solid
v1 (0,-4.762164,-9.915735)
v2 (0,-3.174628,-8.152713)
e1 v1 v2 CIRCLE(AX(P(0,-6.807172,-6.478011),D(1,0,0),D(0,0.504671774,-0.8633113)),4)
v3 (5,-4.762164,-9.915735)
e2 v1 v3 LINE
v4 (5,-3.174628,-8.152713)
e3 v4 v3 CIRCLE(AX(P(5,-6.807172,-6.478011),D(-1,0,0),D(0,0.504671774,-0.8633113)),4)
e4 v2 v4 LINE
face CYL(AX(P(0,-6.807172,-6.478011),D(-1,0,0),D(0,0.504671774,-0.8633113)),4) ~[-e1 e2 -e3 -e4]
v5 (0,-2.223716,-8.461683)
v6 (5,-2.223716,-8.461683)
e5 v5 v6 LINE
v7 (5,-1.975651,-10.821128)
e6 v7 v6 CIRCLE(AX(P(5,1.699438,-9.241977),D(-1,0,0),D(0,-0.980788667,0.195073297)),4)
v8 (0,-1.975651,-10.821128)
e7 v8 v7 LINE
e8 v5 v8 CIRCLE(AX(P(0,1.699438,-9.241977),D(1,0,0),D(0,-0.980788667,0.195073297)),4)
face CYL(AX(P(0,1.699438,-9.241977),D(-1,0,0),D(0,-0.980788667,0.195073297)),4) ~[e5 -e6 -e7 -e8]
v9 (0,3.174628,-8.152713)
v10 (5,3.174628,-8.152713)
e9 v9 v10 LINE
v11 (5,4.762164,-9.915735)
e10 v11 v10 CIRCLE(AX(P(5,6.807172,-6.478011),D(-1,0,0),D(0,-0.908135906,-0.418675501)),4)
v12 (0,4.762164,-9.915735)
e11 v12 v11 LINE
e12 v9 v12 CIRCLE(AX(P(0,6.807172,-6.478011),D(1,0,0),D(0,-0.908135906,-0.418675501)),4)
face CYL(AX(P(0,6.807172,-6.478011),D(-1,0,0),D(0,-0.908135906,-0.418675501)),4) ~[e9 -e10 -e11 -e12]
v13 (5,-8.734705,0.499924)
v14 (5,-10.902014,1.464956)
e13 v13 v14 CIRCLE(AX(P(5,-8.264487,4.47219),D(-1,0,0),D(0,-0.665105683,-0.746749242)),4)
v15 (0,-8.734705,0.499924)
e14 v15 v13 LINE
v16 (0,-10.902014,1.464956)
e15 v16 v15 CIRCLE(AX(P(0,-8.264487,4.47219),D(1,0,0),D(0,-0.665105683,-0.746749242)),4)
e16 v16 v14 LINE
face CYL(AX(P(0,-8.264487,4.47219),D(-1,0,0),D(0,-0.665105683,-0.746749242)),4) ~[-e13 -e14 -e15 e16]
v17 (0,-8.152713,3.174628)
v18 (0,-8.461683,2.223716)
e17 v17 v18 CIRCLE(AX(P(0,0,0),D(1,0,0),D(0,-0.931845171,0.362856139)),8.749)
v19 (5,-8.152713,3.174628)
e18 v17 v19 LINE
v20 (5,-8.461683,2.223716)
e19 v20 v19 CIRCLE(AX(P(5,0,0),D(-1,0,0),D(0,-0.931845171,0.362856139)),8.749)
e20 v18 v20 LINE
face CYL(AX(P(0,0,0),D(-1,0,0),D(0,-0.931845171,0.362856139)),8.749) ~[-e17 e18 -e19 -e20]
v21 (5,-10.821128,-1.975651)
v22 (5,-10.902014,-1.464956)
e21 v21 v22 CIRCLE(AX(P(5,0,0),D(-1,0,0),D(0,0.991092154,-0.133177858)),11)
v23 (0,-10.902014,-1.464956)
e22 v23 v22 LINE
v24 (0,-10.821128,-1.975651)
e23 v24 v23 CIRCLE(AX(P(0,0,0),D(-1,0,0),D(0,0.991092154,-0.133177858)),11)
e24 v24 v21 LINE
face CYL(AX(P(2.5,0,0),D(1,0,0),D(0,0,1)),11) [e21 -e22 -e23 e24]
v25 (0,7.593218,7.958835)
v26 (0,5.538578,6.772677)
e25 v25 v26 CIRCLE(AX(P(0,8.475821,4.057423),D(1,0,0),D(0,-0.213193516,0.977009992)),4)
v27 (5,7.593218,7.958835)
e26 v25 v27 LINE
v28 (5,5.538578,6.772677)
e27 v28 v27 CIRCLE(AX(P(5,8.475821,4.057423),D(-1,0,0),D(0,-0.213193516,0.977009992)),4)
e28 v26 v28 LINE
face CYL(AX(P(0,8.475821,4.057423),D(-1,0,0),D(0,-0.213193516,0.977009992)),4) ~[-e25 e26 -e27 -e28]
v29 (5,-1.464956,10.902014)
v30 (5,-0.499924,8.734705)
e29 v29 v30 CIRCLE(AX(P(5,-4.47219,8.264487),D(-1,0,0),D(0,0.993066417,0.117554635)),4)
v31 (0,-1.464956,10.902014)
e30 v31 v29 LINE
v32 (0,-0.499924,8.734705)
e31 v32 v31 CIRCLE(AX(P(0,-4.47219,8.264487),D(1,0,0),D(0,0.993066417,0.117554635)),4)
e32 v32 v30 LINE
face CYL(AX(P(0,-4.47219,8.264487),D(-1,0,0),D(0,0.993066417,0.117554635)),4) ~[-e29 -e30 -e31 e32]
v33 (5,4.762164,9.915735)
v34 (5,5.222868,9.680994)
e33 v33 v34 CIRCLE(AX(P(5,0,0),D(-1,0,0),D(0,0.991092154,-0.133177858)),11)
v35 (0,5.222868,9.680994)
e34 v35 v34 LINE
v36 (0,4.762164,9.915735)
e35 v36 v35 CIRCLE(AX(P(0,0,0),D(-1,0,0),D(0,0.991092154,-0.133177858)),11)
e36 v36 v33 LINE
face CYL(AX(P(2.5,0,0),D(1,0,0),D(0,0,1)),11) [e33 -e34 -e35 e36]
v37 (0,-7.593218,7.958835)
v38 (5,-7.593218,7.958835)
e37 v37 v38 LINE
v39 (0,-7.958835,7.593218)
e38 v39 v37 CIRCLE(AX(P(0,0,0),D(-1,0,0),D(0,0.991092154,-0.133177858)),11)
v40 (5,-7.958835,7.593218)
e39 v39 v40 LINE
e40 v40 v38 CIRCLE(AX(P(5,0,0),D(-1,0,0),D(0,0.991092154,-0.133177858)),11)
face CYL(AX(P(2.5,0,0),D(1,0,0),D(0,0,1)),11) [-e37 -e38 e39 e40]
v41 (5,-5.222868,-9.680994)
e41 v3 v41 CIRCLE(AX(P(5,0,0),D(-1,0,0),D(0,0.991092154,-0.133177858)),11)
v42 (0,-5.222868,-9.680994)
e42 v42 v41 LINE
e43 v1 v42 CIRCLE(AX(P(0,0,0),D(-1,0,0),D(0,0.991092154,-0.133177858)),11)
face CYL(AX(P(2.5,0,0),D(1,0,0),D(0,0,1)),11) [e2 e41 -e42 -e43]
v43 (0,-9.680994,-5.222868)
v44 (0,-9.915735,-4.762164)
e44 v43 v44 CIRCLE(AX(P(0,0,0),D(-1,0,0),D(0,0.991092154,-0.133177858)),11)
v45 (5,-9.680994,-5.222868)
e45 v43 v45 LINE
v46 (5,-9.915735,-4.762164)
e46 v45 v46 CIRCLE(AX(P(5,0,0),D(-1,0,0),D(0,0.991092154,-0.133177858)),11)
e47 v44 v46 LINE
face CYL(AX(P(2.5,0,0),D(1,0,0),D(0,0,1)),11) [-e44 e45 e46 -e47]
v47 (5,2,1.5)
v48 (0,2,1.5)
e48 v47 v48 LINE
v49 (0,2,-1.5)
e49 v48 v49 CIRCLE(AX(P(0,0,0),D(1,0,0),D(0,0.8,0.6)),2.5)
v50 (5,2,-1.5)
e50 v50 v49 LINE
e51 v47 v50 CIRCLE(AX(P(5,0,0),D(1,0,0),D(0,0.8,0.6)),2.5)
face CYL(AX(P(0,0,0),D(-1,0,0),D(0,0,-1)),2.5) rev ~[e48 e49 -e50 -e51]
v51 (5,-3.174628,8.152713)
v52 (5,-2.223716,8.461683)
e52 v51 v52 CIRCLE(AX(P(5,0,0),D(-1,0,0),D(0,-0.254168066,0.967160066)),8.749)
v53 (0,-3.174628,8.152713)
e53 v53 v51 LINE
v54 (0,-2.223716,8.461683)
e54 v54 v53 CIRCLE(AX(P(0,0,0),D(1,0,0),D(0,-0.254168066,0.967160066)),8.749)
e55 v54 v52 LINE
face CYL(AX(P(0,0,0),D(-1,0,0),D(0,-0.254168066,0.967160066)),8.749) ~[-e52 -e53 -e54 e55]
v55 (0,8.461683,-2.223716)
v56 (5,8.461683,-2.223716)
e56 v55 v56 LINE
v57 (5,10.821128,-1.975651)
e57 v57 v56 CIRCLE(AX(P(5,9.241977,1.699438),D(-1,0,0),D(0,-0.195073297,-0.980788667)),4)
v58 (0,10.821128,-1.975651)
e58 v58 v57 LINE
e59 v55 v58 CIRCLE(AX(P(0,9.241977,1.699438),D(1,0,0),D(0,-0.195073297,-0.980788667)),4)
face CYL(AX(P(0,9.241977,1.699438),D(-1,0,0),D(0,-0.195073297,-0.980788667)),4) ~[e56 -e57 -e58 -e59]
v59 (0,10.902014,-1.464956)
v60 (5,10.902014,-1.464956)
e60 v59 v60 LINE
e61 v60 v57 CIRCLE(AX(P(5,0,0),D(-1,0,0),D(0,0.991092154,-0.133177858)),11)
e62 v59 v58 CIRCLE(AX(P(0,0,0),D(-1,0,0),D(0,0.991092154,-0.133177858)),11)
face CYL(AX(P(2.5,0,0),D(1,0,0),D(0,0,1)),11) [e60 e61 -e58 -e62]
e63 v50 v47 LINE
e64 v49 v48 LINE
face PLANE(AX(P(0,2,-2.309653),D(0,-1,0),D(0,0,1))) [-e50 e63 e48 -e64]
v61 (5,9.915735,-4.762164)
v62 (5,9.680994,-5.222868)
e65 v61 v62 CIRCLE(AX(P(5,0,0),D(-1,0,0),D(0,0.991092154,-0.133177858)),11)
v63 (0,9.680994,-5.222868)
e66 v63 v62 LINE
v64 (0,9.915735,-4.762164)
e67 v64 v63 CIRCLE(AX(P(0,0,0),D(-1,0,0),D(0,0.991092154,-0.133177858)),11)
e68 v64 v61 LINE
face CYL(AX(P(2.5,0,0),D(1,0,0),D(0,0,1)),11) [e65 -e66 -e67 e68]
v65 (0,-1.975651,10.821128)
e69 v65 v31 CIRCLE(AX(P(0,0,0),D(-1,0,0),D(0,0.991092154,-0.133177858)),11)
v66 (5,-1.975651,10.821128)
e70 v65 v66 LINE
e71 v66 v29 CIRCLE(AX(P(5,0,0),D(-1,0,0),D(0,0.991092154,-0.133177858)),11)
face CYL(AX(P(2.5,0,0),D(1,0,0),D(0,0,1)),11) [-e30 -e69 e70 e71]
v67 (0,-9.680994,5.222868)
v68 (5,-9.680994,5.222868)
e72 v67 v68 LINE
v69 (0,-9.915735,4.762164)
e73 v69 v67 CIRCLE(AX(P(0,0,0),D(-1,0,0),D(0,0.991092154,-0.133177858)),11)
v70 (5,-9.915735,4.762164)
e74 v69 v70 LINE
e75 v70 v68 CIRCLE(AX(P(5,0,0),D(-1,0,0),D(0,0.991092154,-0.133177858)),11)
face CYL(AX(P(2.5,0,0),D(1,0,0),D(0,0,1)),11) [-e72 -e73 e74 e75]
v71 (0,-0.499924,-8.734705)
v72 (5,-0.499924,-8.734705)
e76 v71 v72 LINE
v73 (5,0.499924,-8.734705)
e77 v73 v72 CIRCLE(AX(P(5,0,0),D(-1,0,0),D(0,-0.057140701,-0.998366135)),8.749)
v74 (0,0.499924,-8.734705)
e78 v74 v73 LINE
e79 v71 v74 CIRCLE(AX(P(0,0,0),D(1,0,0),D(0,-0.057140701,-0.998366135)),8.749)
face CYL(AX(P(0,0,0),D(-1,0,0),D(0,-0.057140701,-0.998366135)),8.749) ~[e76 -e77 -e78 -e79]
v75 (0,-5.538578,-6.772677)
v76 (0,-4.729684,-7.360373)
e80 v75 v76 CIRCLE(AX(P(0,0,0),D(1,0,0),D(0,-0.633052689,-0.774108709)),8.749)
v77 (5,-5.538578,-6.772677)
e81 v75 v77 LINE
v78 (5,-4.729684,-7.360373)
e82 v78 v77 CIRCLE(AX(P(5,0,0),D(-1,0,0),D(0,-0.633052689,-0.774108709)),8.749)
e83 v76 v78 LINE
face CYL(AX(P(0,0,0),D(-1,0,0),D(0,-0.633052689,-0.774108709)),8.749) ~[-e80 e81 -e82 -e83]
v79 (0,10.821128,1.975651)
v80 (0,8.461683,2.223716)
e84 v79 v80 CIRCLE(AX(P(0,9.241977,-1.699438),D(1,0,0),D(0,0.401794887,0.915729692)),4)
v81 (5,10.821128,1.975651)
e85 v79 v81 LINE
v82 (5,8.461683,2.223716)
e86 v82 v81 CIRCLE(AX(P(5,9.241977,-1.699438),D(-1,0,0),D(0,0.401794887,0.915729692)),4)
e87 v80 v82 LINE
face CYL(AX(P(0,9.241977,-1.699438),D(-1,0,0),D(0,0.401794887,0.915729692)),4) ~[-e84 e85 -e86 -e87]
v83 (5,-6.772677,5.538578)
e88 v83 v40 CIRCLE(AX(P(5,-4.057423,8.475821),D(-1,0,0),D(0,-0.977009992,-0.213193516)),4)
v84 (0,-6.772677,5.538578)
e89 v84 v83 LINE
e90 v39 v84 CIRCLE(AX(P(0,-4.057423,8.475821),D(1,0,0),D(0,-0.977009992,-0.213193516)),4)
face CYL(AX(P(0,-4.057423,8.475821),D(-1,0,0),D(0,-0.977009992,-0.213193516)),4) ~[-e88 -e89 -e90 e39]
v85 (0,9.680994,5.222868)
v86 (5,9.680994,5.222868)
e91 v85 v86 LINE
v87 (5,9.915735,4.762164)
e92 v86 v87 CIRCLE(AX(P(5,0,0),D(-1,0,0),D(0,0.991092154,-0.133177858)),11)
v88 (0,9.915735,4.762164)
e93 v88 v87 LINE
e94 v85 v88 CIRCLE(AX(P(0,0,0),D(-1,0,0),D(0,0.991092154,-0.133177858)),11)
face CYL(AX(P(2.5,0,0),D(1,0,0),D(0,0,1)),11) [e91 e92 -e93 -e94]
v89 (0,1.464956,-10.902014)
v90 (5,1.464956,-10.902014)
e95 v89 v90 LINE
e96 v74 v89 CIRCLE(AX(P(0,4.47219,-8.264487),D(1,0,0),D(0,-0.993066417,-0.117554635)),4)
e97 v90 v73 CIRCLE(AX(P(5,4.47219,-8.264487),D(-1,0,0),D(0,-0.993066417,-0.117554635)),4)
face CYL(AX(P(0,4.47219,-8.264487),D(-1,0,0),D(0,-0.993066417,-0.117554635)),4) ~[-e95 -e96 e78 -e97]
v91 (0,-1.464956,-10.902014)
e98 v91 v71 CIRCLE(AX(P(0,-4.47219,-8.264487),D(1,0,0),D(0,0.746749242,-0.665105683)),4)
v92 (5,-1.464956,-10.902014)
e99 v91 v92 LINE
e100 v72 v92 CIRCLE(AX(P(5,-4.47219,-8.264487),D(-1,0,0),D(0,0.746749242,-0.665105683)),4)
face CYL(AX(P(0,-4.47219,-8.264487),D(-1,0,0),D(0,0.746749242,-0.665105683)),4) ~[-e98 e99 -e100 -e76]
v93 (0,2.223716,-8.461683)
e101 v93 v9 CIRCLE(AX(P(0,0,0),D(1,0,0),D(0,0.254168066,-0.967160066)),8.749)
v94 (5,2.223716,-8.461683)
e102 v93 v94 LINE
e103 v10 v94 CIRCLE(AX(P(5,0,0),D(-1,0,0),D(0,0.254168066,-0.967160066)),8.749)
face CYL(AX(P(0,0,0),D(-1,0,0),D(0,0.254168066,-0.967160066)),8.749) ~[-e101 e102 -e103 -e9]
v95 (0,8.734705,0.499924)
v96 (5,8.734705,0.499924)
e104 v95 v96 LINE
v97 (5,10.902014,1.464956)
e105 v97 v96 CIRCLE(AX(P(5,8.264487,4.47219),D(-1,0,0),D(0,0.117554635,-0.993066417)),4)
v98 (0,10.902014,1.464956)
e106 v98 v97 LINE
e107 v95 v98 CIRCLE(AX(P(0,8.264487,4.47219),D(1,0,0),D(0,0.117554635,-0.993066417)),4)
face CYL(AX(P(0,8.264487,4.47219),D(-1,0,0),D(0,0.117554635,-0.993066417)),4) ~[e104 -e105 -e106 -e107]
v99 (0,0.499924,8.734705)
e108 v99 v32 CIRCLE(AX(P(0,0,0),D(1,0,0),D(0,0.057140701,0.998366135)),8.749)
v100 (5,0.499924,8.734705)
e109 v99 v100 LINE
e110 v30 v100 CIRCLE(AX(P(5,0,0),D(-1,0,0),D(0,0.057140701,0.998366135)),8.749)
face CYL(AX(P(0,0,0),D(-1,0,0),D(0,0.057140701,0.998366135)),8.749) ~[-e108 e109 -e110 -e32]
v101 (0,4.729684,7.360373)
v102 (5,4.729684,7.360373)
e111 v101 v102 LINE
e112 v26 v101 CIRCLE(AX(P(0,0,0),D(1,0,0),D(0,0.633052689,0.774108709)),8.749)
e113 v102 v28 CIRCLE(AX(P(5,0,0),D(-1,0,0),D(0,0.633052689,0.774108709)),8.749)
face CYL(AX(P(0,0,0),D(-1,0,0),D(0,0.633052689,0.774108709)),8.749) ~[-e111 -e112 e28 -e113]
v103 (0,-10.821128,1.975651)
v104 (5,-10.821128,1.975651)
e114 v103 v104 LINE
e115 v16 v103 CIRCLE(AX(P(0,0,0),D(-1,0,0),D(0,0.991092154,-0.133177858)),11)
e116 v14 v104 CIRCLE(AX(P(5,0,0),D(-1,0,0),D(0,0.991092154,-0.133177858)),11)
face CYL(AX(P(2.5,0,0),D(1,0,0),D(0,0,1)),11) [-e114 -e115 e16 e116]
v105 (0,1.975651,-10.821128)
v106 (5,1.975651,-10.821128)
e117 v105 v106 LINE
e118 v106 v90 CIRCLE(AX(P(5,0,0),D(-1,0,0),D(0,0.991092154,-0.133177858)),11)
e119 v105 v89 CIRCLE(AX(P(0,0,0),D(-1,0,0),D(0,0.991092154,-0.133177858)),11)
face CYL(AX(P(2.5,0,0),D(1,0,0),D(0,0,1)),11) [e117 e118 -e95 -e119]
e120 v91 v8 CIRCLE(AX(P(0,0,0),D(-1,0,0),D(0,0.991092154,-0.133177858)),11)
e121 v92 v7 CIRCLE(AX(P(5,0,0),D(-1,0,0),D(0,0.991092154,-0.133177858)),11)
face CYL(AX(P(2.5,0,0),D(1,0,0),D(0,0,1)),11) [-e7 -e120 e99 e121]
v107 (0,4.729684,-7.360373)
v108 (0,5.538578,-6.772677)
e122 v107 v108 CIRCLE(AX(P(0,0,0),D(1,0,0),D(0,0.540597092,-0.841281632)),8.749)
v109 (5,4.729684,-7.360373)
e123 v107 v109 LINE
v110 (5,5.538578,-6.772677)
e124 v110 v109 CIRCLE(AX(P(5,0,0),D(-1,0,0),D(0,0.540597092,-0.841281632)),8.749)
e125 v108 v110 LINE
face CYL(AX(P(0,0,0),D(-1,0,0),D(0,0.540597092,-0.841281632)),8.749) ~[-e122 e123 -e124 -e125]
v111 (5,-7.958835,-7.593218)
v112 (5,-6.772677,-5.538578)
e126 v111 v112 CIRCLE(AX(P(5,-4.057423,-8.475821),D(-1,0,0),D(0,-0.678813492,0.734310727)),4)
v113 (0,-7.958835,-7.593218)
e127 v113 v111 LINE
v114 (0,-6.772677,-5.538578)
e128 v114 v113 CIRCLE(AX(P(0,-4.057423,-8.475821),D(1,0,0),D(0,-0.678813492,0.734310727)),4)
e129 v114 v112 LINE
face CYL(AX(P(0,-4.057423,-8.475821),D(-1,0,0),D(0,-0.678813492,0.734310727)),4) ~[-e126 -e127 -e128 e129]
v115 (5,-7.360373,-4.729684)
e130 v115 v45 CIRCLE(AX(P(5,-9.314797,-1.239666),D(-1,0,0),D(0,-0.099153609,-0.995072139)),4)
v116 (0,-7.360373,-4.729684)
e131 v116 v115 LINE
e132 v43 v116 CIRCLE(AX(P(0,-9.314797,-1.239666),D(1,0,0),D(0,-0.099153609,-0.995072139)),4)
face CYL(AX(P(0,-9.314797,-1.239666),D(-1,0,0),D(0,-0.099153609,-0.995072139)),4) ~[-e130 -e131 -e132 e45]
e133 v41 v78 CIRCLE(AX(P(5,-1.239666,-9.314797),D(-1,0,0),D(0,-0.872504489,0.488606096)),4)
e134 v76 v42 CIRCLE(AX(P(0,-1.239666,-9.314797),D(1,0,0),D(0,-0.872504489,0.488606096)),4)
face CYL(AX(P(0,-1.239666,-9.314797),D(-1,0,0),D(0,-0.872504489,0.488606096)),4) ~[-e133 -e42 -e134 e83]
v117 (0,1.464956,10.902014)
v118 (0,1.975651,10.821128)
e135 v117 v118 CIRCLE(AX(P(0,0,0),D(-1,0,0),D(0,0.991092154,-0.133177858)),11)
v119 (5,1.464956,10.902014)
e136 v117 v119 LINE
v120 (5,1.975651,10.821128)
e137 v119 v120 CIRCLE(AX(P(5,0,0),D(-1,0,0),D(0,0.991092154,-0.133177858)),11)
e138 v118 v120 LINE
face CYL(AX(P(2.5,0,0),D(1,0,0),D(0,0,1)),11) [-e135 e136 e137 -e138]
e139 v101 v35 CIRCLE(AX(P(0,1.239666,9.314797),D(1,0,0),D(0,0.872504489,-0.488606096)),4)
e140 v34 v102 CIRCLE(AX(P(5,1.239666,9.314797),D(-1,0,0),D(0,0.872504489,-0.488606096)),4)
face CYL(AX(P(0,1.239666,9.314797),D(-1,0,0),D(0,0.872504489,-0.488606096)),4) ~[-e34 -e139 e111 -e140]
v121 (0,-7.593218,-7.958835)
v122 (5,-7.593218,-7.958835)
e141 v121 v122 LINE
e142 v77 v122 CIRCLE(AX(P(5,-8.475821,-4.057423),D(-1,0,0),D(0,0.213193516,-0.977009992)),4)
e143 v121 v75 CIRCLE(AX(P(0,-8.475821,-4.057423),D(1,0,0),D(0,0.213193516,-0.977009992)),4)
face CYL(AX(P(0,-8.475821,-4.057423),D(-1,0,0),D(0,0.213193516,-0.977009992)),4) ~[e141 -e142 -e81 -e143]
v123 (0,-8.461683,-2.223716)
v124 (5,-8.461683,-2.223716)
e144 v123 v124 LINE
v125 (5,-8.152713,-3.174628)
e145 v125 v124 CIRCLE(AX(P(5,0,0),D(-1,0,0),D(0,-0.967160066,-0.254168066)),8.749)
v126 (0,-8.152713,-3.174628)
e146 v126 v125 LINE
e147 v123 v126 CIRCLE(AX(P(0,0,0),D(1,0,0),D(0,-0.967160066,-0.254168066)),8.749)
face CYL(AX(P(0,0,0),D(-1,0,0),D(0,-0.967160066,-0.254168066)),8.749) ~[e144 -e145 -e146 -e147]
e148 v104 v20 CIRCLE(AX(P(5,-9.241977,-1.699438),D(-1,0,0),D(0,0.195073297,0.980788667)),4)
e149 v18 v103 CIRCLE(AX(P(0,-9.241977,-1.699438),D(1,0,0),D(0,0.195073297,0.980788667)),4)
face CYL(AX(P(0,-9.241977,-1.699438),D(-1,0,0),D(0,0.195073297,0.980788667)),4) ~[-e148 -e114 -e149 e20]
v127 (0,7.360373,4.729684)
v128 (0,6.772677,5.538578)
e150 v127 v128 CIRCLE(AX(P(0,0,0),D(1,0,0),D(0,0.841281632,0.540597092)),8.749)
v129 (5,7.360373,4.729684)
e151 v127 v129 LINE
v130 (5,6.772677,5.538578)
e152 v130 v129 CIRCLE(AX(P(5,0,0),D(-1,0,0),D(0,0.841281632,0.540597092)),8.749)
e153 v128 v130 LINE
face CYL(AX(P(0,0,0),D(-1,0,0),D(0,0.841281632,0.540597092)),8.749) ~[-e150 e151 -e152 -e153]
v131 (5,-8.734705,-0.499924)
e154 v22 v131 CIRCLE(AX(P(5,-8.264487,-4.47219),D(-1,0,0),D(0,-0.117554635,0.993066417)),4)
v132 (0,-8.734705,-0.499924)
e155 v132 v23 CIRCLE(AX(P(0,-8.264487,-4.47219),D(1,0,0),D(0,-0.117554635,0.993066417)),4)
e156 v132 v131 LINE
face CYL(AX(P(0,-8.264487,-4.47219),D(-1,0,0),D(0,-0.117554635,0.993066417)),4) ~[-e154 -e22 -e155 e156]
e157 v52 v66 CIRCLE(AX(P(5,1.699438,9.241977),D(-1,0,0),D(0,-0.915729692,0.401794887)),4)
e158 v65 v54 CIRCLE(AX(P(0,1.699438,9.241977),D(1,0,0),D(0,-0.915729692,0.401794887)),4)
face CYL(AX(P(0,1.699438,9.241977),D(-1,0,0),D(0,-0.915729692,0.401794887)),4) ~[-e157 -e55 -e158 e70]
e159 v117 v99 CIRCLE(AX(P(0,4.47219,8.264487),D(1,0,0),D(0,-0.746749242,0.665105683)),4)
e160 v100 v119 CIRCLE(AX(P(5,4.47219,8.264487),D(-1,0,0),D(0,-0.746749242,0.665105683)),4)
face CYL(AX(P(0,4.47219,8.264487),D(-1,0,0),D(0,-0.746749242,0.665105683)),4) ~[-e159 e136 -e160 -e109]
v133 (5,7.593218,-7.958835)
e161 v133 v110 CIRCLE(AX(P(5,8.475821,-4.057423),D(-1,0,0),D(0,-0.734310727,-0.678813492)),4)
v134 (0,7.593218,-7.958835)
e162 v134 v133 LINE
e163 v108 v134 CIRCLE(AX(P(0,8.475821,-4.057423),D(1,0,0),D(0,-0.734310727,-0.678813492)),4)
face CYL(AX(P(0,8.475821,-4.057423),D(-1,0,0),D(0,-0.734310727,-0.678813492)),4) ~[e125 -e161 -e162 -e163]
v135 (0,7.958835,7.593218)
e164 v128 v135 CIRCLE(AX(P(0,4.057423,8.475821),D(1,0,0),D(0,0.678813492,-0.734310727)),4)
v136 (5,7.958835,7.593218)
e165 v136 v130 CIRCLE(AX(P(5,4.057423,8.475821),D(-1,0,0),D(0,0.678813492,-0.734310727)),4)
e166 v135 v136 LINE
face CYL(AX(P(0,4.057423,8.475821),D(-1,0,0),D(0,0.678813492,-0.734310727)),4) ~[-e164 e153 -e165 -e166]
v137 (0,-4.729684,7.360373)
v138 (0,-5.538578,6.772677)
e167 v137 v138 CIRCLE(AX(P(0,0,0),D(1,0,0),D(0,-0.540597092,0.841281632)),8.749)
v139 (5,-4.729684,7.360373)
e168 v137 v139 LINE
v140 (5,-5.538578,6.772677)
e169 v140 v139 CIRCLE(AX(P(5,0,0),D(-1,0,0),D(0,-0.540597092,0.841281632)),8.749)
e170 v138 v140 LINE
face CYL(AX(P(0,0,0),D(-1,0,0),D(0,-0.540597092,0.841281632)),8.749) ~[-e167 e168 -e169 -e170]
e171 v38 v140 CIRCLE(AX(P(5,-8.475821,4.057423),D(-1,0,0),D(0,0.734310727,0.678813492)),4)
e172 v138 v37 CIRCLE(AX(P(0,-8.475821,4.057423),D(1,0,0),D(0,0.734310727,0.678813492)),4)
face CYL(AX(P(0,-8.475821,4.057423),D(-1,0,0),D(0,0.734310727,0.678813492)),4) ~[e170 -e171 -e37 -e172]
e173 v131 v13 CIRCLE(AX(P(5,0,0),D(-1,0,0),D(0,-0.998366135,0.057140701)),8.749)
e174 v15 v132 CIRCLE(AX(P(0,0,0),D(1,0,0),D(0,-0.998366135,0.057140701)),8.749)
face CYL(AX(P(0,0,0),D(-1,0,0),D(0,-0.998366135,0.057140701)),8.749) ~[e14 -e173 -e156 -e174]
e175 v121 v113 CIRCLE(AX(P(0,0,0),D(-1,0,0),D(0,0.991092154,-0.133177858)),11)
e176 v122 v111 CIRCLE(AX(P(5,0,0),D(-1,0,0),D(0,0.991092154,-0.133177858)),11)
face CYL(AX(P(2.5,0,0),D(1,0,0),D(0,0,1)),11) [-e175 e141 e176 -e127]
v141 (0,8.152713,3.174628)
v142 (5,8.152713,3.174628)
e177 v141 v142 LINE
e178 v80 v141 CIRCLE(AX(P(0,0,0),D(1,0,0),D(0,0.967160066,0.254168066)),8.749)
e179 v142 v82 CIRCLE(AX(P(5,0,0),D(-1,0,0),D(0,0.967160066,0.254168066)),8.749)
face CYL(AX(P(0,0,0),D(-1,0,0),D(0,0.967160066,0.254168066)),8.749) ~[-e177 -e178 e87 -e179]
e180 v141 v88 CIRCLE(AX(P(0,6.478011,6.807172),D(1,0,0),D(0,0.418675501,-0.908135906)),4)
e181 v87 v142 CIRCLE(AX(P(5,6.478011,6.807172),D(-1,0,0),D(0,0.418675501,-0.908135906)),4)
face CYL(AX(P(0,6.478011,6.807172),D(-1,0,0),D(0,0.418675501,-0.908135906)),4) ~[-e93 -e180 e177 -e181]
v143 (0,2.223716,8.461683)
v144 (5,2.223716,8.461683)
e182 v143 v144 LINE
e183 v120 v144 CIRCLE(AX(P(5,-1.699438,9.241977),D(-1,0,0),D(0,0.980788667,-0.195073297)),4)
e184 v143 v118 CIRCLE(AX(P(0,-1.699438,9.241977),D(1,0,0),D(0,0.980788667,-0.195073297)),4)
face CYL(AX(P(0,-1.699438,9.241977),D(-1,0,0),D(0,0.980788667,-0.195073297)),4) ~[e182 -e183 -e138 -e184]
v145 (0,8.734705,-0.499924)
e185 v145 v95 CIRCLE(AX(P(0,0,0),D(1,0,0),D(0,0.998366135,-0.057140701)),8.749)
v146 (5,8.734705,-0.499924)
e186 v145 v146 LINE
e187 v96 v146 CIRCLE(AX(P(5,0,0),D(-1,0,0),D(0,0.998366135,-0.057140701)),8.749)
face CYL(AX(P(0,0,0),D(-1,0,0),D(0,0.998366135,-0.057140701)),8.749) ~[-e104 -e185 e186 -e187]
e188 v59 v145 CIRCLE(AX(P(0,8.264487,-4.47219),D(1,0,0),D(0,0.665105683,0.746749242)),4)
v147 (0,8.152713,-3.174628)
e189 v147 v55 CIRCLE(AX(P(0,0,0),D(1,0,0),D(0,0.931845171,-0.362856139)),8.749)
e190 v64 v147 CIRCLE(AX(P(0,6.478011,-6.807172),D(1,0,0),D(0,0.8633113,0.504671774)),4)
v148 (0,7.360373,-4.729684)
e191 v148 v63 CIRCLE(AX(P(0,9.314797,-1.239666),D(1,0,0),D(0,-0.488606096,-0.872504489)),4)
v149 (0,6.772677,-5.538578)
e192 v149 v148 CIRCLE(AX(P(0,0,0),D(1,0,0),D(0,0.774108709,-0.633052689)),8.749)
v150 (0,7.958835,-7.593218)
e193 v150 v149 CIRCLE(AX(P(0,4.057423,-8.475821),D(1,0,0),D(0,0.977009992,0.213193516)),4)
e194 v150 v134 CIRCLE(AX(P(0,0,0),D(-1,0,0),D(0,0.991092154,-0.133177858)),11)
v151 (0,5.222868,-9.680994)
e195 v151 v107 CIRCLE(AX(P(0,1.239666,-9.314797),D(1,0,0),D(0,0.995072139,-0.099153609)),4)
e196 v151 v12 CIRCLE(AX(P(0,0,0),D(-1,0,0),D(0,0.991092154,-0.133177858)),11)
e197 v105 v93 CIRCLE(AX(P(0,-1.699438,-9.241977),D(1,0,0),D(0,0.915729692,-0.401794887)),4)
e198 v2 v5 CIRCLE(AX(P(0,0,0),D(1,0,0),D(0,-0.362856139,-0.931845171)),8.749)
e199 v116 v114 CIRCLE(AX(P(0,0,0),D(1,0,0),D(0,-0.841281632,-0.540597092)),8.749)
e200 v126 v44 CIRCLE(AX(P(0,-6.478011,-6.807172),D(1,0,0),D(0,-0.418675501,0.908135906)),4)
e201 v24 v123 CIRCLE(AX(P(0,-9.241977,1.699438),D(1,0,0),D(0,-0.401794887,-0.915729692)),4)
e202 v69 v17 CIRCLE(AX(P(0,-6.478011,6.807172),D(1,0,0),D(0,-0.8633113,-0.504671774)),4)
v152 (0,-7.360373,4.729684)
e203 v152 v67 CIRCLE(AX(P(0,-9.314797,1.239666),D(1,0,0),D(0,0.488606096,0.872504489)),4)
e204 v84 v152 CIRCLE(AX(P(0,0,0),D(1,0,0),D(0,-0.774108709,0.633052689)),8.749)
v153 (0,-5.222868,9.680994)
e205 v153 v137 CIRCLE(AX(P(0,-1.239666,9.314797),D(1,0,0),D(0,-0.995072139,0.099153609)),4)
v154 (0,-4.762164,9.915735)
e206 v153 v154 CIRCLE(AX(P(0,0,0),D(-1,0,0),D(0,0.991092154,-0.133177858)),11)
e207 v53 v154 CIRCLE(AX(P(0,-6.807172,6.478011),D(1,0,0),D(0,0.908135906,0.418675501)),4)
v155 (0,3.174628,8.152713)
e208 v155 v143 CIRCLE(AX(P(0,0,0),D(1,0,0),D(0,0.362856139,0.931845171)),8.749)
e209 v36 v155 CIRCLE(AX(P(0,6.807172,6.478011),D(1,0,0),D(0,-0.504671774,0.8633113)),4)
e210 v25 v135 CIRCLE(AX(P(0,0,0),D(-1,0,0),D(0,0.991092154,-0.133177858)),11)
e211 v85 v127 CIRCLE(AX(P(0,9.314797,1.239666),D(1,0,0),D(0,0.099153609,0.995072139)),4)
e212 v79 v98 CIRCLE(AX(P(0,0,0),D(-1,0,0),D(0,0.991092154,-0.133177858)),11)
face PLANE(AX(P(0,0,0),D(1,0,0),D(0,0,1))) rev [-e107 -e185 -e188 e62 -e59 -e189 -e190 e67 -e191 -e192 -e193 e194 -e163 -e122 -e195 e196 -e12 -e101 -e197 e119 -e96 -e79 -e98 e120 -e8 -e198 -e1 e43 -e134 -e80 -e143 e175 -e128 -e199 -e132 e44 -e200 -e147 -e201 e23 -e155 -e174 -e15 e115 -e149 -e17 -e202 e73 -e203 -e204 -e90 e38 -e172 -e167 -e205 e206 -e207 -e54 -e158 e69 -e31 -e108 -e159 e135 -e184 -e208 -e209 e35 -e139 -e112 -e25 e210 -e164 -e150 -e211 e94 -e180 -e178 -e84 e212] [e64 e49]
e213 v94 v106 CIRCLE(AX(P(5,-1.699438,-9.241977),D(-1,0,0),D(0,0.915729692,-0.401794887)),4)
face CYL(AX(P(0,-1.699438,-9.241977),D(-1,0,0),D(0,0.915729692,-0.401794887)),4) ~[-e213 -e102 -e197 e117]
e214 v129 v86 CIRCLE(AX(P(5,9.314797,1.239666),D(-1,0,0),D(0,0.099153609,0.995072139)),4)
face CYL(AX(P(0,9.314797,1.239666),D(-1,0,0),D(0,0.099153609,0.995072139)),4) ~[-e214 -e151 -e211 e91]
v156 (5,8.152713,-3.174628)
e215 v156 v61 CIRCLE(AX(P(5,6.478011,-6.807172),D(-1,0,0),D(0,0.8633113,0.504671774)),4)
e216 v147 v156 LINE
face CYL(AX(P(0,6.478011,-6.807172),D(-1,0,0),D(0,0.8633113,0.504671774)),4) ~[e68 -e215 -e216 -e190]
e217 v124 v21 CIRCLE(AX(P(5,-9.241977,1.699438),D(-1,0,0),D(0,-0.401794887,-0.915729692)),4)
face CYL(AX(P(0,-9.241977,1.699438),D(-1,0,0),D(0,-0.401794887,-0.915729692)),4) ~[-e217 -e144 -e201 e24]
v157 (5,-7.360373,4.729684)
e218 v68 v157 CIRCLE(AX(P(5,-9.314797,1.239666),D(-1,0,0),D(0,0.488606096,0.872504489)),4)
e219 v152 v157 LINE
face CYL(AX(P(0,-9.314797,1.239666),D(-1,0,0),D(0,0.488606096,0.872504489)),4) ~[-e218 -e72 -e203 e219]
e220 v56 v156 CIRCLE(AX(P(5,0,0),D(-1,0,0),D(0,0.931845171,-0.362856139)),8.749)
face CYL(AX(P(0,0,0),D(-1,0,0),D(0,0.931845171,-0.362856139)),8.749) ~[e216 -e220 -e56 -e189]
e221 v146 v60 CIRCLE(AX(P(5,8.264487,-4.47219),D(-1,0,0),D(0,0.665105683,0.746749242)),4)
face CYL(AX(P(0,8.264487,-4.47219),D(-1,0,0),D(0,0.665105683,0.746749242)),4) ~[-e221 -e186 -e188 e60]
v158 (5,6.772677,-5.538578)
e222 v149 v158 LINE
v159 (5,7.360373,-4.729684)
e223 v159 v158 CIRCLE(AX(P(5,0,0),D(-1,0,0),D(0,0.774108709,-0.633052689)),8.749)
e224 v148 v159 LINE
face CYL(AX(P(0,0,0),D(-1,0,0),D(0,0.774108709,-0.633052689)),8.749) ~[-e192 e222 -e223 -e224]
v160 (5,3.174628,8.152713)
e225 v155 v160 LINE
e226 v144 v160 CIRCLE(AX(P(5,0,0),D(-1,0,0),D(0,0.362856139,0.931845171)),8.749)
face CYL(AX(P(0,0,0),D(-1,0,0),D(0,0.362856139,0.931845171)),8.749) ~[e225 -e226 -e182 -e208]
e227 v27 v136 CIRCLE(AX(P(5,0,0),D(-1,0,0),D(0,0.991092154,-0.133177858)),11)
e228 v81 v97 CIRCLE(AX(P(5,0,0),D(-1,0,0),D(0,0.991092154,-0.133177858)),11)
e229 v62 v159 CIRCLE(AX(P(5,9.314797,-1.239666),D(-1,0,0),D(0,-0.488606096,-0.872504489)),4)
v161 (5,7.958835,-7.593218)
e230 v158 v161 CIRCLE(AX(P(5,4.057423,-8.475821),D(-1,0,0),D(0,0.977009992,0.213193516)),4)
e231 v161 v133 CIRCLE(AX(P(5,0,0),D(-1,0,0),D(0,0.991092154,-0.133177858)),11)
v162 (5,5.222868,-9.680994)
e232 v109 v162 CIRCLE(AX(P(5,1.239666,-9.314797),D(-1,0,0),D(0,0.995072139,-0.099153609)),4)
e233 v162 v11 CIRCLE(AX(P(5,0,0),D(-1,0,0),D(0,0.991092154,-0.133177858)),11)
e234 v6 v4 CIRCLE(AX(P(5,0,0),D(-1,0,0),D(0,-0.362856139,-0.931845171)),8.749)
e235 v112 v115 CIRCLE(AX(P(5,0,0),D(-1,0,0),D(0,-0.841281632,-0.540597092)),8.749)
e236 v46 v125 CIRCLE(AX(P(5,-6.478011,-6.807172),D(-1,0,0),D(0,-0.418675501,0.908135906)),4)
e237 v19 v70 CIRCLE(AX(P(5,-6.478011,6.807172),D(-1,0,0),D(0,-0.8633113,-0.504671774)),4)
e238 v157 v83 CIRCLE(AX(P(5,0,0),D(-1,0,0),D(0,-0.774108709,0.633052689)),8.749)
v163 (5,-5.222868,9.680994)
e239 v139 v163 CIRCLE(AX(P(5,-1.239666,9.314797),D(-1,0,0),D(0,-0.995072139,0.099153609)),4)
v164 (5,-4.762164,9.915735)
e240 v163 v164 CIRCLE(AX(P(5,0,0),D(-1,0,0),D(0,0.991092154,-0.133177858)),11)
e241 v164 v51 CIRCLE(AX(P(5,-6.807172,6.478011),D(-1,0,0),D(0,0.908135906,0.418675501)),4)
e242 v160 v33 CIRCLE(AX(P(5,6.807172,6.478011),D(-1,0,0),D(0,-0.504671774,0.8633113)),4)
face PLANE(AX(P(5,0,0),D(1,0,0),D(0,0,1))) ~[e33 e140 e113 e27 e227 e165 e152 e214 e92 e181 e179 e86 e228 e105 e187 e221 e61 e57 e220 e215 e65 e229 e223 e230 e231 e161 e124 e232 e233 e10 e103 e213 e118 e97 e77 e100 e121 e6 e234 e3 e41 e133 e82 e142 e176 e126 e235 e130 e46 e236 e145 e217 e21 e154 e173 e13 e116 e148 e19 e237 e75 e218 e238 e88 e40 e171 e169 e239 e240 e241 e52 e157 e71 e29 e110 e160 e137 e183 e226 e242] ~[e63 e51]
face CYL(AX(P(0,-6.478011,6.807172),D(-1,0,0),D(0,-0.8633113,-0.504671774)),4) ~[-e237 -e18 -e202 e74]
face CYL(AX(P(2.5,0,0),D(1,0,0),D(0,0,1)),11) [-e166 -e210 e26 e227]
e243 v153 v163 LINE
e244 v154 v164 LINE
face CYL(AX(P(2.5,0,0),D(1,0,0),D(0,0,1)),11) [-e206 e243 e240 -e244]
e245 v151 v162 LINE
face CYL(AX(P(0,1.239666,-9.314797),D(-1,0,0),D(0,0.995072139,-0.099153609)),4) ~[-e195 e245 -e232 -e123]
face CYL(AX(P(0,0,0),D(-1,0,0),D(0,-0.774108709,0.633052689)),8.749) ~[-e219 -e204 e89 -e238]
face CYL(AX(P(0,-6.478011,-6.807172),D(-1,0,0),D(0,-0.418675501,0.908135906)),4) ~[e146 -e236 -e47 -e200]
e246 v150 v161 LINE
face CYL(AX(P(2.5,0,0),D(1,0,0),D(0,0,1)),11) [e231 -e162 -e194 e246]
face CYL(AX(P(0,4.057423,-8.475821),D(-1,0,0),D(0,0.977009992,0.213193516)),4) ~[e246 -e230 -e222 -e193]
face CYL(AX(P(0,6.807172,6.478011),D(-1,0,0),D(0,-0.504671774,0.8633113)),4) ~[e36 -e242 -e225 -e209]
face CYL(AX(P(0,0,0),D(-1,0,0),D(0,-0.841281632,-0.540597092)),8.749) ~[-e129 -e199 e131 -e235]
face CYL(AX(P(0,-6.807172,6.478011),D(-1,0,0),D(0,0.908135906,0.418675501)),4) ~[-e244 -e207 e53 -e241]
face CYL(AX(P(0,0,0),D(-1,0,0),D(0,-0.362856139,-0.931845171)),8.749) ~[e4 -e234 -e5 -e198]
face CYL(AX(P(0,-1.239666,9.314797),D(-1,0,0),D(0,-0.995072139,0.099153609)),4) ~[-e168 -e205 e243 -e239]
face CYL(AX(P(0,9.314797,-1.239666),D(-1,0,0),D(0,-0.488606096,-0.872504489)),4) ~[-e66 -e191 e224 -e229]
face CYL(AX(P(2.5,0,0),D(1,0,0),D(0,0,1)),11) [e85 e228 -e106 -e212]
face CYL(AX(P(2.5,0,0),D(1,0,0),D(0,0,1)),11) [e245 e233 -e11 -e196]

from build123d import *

# Parameters (mm, degrees)
BASPROSKE_W         = 5
BASPROSKE_H         = 11
TOOTHCUT_DEPTH      = 17.340134638
TEETHCUTS_COUNT     = 20
TEETHCUTS_ANGLE     = 342
BORSKE_R            = 1.5
BORE_DEPTH          = 50.0000508
SKETCH1_R           = 2.5
CUT_EXTRUDE1_DEPTH  = 10
SKETCH2_W           = 5.908261021
SKETCH2_H           = 1.397592127
BOSS_EXTRUDE1_DEPTH = 5
SKETCH3_R           = 2.5
CUT_EXTRUDE2_DEPTH  = 10
SKETCH4_W           = 5.744521792
SKETCH4_H           = 0.916677302
BOSS_EXTRUDE2_DEPTH = 5


with BuildPart() as part:
    # BasProSke → Base-Revolve (revolve)
    with BuildSketch(Plane(origin=(0, 0, 0), x_dir=(1, 0, 0), z_dir=(0, 1, 0)), mode=Mode.PRIVATE) as base_revolve_sk:
        with Locations((2.5, 5.5)):
            Rectangle(BASPROSKE_W, BASPROSKE_H)
    revolve(base_revolve_sk.sketch.rotate(Axis((-10, 0, 0), (1, 0, 0)), 180), axis=Axis((-10, 0, 0), (1, 0, 0)))

    # TooCutSke → ToothCut (cut, through all)
    with BuildSketch(Plane(origin=(0, 0, 0), x_dir=(0, 0, -1), z_dir=(1, 0, 0))):
        with BuildLine():
            ThreePointArc((0.499924007, 8.734705318), (0, 8.749), (-0.499924007, 8.734705318))
            ThreePointArc((-0.499924007, 8.734705318), (-0.824302243, 9.905497836), (-1.485192705, 10.924909509))
            ThreePointArc((-1.485192705, 10.924909509), (0, 11.0254), (1.485192705, 10.924909509))
            ThreePointArc((1.485192705, 10.924909509), (0.824302243, 9.905497836), (0.499924007, 8.734705318))
        make_face()
    toothcut = extrude(amount=TOOTHCUT_DEPTH, mode=Mode.SUBTRACT)

    # TeethCuts: ToothCut ×20 about axis
    teethcuts_axis = Axis((-10, 0, 0), (1, 0, 0))
    for i in range(1, TEETHCUTS_COUNT):
        add(toothcut.rotate(teethcuts_axis, i * TEETHCUTS_ANGLE / (TEETHCUTS_COUNT - 1)), mode=Mode.SUBTRACT)

    # BorSke → Bore (cut, symmetric)
    with BuildSketch(Plane(origin=(0, 0, 0), x_dir=(0, 0, -1), z_dir=(1, 0, 0))):
        with Locations(Location((0, 0, 0), (0, 0, 180))):
            Circle(BORSKE_R)
    extrude(amount=BORE_DEPTH, both=True, mode=Mode.SUBTRACT)

    # Sketch1 → Cut-Extrude1 (cut)
    with BuildSketch(Plane(origin=(5, 0, 0), x_dir=(0, 0, -1), z_dir=(1, 0, 0))):
        Circle(SKETCH1_R)
    extrude(amount=-CUT_EXTRUDE1_DEPTH, mode=Mode.SUBTRACT)

    # Sketch2 → Boss-Extrude1 (add)
    with BuildSketch(Plane(origin=(5, 0, 0), x_dir=(0, 0, -1), z_dir=(1, 0, 0))):
        with Locations((-0.183749745, 2.198796064)):
            Rectangle(SKETCH2_W, SKETCH2_H)
    extrude(amount=-BOSS_EXTRUDE1_DEPTH)

    # Sketch3 → Cut-Extrude2 (cut)
    with BuildSketch(Plane.ZY):
        with Locations(Location((0, 0, 0), (0, 0, 180))):
            Circle(SKETCH3_R)
    extrude(amount=-CUT_EXTRUDE2_DEPTH, mode=Mode.SUBTRACT)

    # Sketch4 → Boss-Extrude2 (add, through all)
    with BuildSketch(Plane.ZY):
        with Locations((0.562607804, 2.458338651)):
            Rectangle(SKETCH4_W, SKETCH4_H)
    extrude(amount=-BOSS_EXTRUDE2_DEPTH)


solid = part.part
